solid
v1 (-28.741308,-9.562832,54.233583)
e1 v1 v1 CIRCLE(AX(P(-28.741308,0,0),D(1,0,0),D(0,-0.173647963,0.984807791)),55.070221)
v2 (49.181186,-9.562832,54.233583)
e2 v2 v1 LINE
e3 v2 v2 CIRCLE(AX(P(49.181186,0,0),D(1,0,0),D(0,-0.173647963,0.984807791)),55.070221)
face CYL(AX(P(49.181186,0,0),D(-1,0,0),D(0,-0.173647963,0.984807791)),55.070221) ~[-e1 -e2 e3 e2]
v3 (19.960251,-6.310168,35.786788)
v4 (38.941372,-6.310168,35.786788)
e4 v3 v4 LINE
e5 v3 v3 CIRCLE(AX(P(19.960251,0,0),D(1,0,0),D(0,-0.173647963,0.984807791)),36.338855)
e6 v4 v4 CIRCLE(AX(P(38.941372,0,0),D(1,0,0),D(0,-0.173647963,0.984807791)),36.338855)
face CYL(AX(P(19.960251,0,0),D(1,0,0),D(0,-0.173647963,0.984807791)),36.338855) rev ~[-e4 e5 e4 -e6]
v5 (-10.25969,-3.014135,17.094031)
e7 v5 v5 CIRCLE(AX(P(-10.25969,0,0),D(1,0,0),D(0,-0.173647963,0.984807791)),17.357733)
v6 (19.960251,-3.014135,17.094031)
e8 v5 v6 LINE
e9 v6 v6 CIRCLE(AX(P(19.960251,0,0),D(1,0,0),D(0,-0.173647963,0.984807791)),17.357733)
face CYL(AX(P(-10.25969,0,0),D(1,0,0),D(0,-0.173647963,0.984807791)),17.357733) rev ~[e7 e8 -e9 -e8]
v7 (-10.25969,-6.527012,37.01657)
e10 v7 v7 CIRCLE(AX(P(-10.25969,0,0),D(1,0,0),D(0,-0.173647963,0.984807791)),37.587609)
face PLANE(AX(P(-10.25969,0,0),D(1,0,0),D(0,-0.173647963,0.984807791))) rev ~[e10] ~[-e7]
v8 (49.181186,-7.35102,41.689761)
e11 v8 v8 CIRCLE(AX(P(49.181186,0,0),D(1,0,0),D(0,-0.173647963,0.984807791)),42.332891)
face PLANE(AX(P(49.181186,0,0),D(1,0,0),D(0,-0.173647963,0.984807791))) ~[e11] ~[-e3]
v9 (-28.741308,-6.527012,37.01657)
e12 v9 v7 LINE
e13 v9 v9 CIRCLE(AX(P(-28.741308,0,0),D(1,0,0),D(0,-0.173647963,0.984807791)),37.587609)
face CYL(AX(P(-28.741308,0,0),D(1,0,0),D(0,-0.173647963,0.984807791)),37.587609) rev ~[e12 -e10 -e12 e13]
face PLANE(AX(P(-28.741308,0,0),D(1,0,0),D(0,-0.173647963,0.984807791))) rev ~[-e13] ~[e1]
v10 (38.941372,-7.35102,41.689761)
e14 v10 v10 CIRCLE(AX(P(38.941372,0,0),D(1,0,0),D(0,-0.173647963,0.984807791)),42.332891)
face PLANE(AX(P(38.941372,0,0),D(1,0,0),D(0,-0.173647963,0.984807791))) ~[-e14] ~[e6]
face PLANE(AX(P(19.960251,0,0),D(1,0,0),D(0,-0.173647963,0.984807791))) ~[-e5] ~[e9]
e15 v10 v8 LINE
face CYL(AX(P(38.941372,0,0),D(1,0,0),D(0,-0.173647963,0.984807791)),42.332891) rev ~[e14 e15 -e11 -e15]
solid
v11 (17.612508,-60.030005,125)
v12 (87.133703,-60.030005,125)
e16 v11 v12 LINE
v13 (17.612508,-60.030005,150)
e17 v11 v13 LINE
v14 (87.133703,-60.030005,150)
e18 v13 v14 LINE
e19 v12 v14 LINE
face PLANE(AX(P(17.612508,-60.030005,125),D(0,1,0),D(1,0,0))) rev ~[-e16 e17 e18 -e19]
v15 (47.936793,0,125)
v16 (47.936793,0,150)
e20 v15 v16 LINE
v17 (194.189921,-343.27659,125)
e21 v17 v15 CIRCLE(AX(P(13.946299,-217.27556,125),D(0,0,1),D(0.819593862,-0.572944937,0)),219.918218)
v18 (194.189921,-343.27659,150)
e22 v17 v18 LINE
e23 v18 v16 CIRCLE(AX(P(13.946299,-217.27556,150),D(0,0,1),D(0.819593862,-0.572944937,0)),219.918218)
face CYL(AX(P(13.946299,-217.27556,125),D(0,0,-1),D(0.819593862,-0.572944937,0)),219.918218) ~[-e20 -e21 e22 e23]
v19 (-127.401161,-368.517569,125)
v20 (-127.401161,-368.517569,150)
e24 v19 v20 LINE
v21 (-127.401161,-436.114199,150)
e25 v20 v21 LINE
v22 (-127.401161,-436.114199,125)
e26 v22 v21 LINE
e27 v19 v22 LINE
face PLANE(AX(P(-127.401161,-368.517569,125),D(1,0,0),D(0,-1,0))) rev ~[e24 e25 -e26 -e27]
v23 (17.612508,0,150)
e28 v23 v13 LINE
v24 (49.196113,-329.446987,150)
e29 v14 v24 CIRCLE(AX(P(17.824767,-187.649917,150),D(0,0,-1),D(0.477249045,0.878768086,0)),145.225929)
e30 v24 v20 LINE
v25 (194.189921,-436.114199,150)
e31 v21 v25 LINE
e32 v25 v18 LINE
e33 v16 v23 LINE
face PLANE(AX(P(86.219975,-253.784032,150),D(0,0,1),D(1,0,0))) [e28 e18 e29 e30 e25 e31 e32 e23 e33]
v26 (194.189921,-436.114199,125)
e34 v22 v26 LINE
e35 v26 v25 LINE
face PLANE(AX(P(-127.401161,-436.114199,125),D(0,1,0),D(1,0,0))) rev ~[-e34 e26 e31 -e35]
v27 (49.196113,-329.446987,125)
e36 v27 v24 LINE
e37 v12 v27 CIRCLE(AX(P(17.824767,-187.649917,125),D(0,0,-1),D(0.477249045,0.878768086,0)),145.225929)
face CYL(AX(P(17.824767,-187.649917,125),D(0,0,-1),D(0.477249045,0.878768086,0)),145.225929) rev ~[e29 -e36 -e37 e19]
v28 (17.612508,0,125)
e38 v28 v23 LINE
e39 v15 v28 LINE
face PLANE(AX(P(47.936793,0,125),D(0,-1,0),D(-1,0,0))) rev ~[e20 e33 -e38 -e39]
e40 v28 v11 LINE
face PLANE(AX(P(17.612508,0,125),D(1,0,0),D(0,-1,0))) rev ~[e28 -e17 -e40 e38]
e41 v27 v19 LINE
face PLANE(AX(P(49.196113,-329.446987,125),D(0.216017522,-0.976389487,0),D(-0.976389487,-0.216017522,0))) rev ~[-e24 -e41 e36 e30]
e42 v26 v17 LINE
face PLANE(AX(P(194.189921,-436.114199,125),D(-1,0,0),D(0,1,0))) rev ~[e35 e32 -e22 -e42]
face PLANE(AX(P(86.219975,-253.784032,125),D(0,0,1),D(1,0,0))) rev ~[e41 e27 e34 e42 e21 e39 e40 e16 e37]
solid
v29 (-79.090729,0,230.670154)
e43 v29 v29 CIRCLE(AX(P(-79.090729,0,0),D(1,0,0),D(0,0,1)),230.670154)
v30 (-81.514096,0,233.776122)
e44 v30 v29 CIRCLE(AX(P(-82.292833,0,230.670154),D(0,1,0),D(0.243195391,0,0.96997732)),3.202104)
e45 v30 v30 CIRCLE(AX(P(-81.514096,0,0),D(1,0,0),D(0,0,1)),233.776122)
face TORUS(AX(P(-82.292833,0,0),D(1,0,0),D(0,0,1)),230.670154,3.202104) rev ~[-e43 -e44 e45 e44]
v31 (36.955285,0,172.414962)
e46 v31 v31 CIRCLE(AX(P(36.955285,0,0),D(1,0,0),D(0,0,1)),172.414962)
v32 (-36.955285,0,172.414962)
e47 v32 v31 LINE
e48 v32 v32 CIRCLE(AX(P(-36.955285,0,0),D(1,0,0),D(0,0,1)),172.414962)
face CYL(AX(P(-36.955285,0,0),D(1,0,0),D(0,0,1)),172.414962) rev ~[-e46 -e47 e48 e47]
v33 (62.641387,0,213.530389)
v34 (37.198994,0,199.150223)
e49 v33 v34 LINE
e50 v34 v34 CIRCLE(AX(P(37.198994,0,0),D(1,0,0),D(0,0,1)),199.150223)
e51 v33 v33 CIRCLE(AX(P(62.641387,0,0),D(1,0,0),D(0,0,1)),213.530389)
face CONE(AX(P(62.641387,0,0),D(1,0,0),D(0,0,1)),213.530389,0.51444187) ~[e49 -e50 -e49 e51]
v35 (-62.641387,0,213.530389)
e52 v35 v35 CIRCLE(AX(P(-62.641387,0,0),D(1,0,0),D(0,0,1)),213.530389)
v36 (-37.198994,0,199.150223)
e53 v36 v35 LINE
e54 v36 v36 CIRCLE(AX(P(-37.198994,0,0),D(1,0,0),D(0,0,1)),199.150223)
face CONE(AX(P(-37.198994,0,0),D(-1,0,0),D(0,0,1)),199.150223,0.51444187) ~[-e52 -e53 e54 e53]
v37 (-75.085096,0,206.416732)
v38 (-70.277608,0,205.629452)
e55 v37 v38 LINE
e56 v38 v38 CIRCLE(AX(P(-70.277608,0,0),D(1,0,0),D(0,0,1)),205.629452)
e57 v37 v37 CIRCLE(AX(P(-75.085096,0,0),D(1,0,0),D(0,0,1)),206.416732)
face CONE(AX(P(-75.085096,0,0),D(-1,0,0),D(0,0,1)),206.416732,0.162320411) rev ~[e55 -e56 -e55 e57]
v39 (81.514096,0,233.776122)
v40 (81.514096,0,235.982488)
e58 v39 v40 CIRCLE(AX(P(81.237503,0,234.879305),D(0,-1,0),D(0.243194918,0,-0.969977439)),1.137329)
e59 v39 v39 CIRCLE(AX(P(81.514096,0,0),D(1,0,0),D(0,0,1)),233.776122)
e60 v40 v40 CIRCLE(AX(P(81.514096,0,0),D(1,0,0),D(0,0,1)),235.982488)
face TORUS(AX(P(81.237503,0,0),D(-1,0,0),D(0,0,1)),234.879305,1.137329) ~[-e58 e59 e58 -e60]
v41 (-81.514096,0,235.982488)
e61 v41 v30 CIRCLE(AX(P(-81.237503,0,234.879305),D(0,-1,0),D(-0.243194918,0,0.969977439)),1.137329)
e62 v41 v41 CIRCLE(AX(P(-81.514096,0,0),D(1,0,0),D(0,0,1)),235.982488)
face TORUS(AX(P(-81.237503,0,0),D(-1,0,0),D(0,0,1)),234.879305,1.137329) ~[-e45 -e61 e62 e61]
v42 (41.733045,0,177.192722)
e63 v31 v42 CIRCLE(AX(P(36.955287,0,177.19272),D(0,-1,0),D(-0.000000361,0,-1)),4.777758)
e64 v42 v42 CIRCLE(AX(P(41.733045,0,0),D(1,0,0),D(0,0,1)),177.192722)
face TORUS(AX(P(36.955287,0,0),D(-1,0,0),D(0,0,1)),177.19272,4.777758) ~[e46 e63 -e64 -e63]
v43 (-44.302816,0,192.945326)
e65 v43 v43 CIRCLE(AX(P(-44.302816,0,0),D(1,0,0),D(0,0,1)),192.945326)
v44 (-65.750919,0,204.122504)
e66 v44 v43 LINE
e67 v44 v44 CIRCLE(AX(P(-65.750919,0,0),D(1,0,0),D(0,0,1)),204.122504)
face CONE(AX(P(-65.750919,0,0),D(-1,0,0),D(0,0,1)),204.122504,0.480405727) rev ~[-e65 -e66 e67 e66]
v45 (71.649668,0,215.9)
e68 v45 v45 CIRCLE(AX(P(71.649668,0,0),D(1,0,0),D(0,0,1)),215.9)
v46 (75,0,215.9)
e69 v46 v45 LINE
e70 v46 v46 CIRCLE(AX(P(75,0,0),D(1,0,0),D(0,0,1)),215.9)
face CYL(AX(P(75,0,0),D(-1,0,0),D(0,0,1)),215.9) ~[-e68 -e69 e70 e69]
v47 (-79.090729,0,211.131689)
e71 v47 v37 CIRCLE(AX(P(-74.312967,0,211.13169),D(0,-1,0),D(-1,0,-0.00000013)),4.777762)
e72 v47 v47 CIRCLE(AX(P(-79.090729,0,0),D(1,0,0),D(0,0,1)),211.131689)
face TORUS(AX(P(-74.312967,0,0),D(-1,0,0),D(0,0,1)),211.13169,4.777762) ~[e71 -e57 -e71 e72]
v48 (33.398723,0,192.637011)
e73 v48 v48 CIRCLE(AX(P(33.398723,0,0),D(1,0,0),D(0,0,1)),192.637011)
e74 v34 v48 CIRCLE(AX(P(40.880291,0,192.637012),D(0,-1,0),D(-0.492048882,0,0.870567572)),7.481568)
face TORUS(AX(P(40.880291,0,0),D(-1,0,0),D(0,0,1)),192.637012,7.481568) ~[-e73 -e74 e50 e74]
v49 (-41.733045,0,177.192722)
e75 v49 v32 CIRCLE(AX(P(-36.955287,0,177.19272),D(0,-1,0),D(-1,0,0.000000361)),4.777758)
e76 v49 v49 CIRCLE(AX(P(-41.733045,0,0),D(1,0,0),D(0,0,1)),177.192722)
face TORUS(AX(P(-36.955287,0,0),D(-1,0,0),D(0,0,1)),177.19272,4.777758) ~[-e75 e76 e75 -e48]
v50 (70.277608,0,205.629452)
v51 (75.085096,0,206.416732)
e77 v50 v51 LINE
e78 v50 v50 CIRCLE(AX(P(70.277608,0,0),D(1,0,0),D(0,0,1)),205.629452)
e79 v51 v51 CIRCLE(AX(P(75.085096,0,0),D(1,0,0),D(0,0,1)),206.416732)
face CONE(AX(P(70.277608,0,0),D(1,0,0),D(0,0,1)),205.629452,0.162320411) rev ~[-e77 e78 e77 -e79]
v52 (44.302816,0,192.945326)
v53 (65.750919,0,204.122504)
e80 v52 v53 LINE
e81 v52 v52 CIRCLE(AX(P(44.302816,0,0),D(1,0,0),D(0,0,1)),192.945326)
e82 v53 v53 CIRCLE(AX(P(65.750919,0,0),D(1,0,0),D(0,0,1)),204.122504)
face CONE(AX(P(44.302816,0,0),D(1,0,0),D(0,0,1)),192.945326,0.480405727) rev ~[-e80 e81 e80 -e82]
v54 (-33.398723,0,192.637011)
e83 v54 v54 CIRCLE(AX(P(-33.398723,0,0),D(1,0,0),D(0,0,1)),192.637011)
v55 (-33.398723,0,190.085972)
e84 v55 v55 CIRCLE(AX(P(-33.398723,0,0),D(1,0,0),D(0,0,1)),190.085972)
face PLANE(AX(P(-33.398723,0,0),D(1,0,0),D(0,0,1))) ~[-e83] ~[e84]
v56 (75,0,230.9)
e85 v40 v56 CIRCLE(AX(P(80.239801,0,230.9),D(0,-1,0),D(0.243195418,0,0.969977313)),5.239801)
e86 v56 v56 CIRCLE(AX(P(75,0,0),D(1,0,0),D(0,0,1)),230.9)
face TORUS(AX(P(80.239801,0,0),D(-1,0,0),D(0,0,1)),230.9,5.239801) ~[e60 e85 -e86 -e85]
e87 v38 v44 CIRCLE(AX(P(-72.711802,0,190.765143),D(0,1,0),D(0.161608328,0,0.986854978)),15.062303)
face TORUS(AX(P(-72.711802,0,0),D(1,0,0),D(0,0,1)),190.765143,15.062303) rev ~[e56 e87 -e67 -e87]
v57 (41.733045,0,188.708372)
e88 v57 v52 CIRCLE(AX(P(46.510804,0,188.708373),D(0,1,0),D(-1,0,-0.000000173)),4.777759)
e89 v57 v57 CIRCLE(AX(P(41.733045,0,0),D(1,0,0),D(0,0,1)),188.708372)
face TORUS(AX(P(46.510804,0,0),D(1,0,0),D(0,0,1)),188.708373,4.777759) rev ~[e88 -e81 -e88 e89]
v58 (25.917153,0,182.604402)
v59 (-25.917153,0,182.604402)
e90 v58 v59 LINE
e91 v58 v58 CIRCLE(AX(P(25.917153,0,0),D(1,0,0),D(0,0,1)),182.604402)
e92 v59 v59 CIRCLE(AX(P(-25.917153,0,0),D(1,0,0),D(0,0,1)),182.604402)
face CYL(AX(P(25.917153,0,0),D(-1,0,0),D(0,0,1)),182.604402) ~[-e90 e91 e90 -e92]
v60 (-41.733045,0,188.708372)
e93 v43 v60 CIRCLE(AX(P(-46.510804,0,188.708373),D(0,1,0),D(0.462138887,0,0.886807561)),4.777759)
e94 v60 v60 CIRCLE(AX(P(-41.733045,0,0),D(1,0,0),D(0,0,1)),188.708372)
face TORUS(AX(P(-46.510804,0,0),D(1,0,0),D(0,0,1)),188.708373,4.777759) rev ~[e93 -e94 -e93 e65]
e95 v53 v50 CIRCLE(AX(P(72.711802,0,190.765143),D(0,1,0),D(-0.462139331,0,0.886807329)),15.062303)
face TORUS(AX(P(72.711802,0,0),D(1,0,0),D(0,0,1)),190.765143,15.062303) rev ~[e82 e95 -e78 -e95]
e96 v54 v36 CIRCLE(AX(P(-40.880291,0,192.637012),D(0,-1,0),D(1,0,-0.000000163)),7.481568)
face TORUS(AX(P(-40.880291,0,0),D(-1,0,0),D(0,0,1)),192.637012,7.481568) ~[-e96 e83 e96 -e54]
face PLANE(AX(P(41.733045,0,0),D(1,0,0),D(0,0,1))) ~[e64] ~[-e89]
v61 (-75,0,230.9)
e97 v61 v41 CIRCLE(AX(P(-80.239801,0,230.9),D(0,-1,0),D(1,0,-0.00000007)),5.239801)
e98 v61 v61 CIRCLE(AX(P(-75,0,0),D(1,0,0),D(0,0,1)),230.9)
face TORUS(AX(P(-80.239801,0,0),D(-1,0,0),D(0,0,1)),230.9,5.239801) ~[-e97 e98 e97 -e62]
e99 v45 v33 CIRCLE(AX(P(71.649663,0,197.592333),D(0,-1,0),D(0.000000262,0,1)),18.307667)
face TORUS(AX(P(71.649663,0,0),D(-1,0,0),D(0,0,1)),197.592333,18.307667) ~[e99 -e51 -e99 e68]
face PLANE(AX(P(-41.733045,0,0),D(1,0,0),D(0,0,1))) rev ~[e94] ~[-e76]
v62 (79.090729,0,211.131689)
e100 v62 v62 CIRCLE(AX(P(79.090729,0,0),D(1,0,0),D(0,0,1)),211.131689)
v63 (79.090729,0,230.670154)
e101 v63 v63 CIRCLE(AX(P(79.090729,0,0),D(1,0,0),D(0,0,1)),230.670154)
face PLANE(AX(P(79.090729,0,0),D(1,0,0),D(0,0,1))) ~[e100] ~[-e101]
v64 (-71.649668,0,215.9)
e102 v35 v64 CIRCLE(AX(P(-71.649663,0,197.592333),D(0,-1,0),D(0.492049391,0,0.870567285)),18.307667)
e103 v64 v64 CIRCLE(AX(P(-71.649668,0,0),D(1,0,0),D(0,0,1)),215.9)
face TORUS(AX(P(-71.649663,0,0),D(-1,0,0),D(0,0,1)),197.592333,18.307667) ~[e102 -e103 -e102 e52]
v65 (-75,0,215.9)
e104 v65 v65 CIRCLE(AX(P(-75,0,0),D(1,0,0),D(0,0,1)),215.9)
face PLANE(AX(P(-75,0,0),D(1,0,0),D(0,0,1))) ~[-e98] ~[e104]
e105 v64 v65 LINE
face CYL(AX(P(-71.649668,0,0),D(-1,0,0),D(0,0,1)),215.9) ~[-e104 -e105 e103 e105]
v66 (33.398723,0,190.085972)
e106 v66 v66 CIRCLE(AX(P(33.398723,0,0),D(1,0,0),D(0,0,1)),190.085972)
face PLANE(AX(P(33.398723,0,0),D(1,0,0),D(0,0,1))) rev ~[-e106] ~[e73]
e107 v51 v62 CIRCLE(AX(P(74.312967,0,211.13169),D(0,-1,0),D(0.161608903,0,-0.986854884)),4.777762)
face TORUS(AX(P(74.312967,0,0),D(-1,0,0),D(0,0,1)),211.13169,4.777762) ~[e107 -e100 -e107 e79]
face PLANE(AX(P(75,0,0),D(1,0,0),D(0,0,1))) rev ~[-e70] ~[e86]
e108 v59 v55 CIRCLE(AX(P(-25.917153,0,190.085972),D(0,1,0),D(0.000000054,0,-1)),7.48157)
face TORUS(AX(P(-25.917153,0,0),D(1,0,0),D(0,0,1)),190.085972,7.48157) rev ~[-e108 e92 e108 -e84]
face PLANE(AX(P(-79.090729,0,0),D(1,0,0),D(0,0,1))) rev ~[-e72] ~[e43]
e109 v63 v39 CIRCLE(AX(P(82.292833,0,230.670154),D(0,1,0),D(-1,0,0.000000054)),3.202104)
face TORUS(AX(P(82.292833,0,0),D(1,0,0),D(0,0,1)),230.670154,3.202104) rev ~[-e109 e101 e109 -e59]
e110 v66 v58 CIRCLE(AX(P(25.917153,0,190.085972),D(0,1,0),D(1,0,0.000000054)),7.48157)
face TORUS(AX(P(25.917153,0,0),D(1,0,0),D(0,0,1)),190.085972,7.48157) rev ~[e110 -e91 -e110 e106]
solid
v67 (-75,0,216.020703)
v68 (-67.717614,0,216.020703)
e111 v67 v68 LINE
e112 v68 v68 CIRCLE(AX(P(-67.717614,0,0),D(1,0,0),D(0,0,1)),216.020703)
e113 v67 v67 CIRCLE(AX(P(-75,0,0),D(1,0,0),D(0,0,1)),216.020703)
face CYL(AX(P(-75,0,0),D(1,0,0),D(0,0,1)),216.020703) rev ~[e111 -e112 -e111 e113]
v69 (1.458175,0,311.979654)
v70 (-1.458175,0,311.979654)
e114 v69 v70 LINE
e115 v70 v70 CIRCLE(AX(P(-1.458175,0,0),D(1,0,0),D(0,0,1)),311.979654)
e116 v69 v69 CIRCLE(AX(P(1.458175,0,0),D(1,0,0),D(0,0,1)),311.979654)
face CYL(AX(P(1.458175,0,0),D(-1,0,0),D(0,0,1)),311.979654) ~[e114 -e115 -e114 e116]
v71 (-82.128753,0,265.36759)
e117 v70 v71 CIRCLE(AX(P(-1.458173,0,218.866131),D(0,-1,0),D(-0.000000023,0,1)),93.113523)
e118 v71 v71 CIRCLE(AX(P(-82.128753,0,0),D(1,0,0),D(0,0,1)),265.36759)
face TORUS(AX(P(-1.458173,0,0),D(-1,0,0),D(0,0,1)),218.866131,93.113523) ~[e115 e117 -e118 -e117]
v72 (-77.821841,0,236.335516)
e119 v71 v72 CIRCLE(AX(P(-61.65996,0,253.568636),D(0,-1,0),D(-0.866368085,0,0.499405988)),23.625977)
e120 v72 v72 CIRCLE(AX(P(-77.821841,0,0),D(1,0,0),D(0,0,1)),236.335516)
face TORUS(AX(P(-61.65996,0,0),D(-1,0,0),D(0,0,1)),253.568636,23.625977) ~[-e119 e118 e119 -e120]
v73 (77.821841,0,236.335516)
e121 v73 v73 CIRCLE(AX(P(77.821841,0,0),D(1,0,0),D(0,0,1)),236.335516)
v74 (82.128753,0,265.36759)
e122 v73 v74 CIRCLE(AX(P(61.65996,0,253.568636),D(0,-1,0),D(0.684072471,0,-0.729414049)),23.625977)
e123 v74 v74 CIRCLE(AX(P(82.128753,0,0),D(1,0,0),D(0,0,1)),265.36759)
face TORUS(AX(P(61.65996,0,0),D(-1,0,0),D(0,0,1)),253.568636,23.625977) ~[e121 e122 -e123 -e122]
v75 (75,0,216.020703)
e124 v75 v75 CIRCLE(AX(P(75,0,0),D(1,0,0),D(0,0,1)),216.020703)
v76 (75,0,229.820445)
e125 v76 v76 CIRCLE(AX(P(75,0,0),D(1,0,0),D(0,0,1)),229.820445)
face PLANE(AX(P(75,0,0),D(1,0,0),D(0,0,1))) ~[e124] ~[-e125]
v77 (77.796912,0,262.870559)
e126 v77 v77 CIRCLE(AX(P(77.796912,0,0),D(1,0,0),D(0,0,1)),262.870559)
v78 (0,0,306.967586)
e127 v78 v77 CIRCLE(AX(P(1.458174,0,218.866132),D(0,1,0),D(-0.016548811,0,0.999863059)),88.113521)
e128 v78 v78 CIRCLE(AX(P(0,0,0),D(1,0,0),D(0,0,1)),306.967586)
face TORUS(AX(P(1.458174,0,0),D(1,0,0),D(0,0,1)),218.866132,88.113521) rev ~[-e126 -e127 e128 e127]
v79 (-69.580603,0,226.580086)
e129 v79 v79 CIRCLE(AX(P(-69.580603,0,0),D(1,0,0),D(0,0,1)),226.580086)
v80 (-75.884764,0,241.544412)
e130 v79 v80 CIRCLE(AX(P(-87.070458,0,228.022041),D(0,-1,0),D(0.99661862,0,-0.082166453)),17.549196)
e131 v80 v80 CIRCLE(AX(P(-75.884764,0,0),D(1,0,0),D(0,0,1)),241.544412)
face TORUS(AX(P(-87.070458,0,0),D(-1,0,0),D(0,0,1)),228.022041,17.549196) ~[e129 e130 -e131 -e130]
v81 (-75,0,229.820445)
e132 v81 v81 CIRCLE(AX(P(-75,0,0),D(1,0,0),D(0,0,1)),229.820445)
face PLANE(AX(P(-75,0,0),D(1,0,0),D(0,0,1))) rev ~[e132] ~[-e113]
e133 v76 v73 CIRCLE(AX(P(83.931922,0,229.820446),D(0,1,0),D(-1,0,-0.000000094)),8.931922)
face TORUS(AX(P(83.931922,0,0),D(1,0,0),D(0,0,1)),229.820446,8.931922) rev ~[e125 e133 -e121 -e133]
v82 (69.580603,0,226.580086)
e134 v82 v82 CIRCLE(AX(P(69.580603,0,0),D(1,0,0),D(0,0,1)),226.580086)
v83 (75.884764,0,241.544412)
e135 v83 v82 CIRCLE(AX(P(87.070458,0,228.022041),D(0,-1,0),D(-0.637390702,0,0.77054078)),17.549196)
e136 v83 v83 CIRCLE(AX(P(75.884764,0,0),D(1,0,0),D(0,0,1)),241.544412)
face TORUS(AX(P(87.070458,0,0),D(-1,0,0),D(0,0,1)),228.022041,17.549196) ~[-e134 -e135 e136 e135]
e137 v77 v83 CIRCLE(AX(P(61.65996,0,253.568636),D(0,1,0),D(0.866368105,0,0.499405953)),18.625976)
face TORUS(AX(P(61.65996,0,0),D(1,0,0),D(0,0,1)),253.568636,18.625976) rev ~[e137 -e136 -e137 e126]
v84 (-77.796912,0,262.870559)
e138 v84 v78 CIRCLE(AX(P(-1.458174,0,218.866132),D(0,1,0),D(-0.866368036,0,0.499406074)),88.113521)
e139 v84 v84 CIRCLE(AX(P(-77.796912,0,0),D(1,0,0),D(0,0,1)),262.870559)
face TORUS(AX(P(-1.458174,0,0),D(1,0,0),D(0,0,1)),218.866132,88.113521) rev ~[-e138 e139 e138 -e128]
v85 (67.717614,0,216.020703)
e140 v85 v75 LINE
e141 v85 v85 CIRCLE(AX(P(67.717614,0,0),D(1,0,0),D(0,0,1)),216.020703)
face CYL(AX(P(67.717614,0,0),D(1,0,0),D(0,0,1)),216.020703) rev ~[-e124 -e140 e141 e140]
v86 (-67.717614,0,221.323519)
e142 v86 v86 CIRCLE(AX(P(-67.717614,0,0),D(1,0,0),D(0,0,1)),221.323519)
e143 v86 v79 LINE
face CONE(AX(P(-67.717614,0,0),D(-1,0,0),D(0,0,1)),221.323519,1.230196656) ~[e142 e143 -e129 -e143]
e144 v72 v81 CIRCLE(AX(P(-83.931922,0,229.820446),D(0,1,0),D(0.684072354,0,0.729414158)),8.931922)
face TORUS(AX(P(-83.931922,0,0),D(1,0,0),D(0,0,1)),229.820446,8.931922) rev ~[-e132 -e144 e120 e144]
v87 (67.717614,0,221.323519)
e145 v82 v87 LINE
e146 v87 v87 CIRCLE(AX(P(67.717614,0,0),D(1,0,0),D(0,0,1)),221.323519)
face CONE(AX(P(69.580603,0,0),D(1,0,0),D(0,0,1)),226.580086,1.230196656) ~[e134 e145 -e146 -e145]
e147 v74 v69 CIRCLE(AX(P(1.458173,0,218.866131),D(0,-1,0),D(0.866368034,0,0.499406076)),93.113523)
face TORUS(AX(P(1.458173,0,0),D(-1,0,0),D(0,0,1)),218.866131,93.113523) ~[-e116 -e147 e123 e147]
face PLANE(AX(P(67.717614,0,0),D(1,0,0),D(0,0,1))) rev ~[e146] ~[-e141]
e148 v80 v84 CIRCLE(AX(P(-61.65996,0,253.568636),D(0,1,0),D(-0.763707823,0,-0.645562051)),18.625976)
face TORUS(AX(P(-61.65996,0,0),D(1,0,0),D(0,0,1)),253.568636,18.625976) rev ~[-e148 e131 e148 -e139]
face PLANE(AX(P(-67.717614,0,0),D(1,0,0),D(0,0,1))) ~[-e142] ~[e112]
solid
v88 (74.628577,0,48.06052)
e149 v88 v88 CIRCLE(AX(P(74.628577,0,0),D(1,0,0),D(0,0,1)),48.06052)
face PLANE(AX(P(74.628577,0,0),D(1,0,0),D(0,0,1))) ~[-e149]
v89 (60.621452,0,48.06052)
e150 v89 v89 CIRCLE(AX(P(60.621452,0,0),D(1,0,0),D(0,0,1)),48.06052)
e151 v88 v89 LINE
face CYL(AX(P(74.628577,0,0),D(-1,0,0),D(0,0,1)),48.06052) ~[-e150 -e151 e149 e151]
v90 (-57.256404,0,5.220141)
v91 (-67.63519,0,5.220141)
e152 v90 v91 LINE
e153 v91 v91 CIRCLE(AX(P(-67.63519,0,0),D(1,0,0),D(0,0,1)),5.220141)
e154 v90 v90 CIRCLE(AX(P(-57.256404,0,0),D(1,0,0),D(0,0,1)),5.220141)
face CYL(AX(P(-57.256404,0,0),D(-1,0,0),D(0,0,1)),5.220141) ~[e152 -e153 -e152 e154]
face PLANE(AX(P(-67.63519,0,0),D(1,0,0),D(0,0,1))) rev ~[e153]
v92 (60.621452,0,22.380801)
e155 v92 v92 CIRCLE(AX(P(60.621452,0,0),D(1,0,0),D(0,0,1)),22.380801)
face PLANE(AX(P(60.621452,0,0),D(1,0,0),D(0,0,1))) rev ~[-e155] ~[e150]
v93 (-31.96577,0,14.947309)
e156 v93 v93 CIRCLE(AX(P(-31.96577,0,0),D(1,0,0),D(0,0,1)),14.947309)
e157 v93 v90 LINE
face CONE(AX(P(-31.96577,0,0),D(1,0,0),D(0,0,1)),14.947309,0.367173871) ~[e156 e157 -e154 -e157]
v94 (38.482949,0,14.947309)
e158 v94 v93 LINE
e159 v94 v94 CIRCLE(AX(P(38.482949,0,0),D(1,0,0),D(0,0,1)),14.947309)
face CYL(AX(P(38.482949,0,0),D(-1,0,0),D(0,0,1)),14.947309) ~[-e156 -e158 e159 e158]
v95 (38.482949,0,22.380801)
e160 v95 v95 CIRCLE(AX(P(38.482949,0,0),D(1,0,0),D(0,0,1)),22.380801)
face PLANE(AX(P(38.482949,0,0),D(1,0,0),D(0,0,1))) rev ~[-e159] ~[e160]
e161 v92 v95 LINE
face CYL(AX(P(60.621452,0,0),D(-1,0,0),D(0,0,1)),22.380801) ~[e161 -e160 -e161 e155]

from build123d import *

# Parameters (mm, degrees)
F12_DEPTH = 25


with BuildPart() as f1:
    # F0 (on Front) → F1 (revolve)
    with BuildSketch(Plane.XZ):
        with BuildLine():
            Line((-79.090729, 230.670154), (-79.090729, 211.131689))
            ThreePointArc((-79.090729, 211.131689), (-77.954124, 208.038312), (-75.085096, 206.416732))
            Line((-75.085096, 206.416732), (-70.277608, 205.629452))
            ThreePointArc((-70.277608, 205.629452), (-67.95422, 205.056343), (-65.750919, 204.122504))
            Line((-65.750919, 204.122504), (-44.302816, 192.945326))
            ThreePointArc((-44.302816, 192.945326), (-42.425696, 191.186048), (-41.733045, 188.708372))
            Line((-41.733045, 188.708372), (-41.733045, 177.192722))
            ThreePointArc((-41.733045, 177.192722), (-40.333672, 173.814335), (-36.955285, 172.414962))
            Line((-36.955285, 172.414962), (0, 172.414962))
            Line((0, 172.414962), (36.955285, 172.414962))
            ThreePointArc((36.955285, 172.414962), (40.333672, 173.814335), (41.733045, 177.192722))
            Line((41.733045, 177.192722), (41.733045, 188.708372))
            ThreePointArc((41.733045, 188.708372), (42.425696, 191.186048), (44.302816, 192.945326))
            Line((44.302816, 192.945326), (65.750919, 204.122504))
            ThreePointArc((65.750919, 204.122504), (67.95422, 205.056343), (70.277608, 205.629452))
            Line((70.277608, 205.629452), (75.085096, 206.416732))
            ThreePointArc((75.085096, 206.416732), (77.954124, 208.038312), (79.090729, 211.131689))
            Line((79.090729, 211.131689), (79.090729, 230.670154))
            ThreePointArc((79.090729, 230.670154), (79.768247, 232.639909), (81.514096, 233.776122))
            ThreePointArc((81.514096, 233.776122), (82.374832, 234.879305), (81.514096, 235.982488))
            ThreePointArc((81.514096, 235.982488), (77.016568, 235.031136), (75, 230.9))
            Line((75, 230.9), (75, 215.9))
            Line((75, 215.9), (71.649668, 215.9))
            ThreePointArc((71.649668, 215.9), (66.992303, 215.29769), (62.641387, 213.530389))
            Line((62.641387, 213.530389), (37.198994, 199.150223))
            ThreePointArc((37.198994, 199.150223), (34.418258, 196.407422), (33.398723, 192.637011))
            Line((33.398723, 192.637011), (33.398723, 190.085972))
            ThreePointArc((33.398723, 190.085972), (31.207422, 184.795703), (25.917153, 182.604402))
            Line((25.917153, 182.604402), (0, 182.604402))
            Line((0, 182.604402), (-25.917153, 182.604402))
            ThreePointArc((-25.917153, 182.604402), (-31.207422, 184.795703), (-33.398723, 190.085972))
            Line((-33.398723, 190.085972), (-33.398723, 192.637011))
            ThreePointArc((-33.398723, 192.637011), (-34.418258, 196.407422), (-37.198994, 199.150223))
            Line((-37.198994, 199.150223), (-62.641387, 213.530389))
            ThreePointArc((-62.641387, 213.530389), (-66.992303, 215.29769), (-71.649668, 215.9))
            Line((-71.649668, 215.9), (-75, 215.9))
            Line((-75, 215.9), (-75, 230.9))
            ThreePointArc((-75, 230.9), (-77.016568, 235.031136), (-81.514096, 235.982488))
            ThreePointArc((-81.514096, 235.982488), (-82.374832, 234.879305), (-81.514096, 233.776122))
            ThreePointArc((-81.514096, 233.776122), (-79.768247, 232.639909), (-79.090729, 230.670154))
        make_face()
    revolve(axis=Axis((3.255159, 0, 0), (1, 0, 0)))


with BuildPart() as f3:
    # F2 (on Front) → F3 (revolve)
    with BuildSketch(Plane.XZ):
        with BuildLine():
            Line((-75, 229.820445), (-75, 216.020703))
            Line((-75, 216.020703), (-67.717614, 216.020703))
            Line((-67.717614, 216.020703), (-67.717614, 221.323519))
            Line((-67.717614, 221.323519), (-69.580603, 226.580086))
            ThreePointArc((-69.580603, 226.580086), (-70.89781, 234.835243), (-75.884764, 241.544412))
            ThreePointArc((-75.884764, 241.544412), (-80.211515, 251.905263), (-77.796912, 262.870559))
            ThreePointArc((-77.796912, 262.870559), (-44.908279, 295.521731), (0, 306.967586))
            ThreePointArc((0, 306.967586), (44.908279, 295.521731), (77.796912, 262.870559))
            ThreePointArc((77.796912, 262.870559), (80.211515, 251.905263), (75.884764, 241.544412))
            ThreePointArc((75.884764, 241.544412), (70.89781, 234.835243), (69.580603, 226.580086))
            Line((69.580603, 226.580086), (67.717614, 221.323519))
            Line((67.717614, 221.323519), (67.717614, 216.020703))
            Line((67.717614, 216.020703), (75, 216.020703))
            Line((75, 216.020703), (75, 229.820445))
            ThreePointArc((75, 229.820445), (75.735764, 233.370407), (77.821841, 236.335516))
            ThreePointArc((77.821841, 236.335516), (85.030174, 250.101661), (82.128753, 265.36759))
            ThreePointArc((82.128753, 265.36759), (48.042578, 299.488841), (1.458175, 311.979654))
            Line((1.458175, 311.979654), (-1.458175, 311.979654))
            ThreePointArc((-1.458175, 311.979654), (-48.042578, 299.488841), (-82.128753, 265.36759))
            ThreePointArc((-82.128753, 265.36759), (-85.030174, 250.101661), (-77.821841, 236.335516))
            ThreePointArc((-77.821841, 236.335516), (-75.735764, 233.370407), (-75, 229.820445))
        make_face()
    revolve(axis=Axis((-20.482503, 0, 0), (1, 0, 0)))


with BuildPart() as f5:
    # F4 (on Front) → F5 (revolve)
    with BuildSketch(Plane.XZ):
        Polygon((-67.63519, 0), (74.628577, 0), (74.628577, 48.06052), (60.621452, 48.06052), (60.621452, 22.380801), (38.482949, 22.380801), (38.482949, 14.947309), (0, 14.947309), (-31.96577, 14.947309), (-57.256404, 5.220141), (-67.63519, 5.220141), align=None)
    revolve(axis=Axis((-0.854243, 0, 0), (1, 0, 0)))


with BuildPart() as f9:
    # F8 (on face) → F9 (revolve)
    with BuildSketch(Plane(origin=(0, 0, 0), x_dir=(1, 0, 0), z_dir=(0, -0.984808, -0.173648))):
        Polygon((-10.25969, 17.357733), (0, 17.357733), (19.960251, 17.357733), (19.960251, 36.338855), (38.941372, 36.338855), (38.941372, 42.332891), (49.181186, 42.332891), (49.181186, 55.070221), (-28.741308, 55.070221), (-28.741308, 37.587609), (-10.25969, 37.587609), align=None)
    revolve(axis=Axis((2.602514, 0, 0), (1, 0, 0)))


with BuildPart() as f12:
    # F11 (on offset) → F12 (new body)
    with BuildSketch(Plane.XY.offset(125)):
        with BuildLine():
            Line((17.612508, 0), (17.612508, -60.030005))
            Line((17.612508, -60.030005), (87.133703, -60.030005))
            ThreePointArc((87.133703, -60.030005), (161.631955, -207.899933), (49.196113, -329.446987))
            Line((49.196113, -329.446987), (-127.401161, -368.517569))
            Line((-127.401161, -368.517569), (-127.401161, -436.114199))
            Line((-127.401161, -436.114199), (194.189921, -436.114199))
            Line((194.189921, -436.114199), (194.189921, -343.27659))
            ThreePointArc((194.189921, -343.27659), (216.267253, -131.076637), (47.936793, 0))
            Line((47.936793, 0), (17.612508, 0))
        make_face()
    extrude(amount=F12_DEPTH)


solid = Compound([f1.part, f3.part, f5.part, f9.part, f12.part])
